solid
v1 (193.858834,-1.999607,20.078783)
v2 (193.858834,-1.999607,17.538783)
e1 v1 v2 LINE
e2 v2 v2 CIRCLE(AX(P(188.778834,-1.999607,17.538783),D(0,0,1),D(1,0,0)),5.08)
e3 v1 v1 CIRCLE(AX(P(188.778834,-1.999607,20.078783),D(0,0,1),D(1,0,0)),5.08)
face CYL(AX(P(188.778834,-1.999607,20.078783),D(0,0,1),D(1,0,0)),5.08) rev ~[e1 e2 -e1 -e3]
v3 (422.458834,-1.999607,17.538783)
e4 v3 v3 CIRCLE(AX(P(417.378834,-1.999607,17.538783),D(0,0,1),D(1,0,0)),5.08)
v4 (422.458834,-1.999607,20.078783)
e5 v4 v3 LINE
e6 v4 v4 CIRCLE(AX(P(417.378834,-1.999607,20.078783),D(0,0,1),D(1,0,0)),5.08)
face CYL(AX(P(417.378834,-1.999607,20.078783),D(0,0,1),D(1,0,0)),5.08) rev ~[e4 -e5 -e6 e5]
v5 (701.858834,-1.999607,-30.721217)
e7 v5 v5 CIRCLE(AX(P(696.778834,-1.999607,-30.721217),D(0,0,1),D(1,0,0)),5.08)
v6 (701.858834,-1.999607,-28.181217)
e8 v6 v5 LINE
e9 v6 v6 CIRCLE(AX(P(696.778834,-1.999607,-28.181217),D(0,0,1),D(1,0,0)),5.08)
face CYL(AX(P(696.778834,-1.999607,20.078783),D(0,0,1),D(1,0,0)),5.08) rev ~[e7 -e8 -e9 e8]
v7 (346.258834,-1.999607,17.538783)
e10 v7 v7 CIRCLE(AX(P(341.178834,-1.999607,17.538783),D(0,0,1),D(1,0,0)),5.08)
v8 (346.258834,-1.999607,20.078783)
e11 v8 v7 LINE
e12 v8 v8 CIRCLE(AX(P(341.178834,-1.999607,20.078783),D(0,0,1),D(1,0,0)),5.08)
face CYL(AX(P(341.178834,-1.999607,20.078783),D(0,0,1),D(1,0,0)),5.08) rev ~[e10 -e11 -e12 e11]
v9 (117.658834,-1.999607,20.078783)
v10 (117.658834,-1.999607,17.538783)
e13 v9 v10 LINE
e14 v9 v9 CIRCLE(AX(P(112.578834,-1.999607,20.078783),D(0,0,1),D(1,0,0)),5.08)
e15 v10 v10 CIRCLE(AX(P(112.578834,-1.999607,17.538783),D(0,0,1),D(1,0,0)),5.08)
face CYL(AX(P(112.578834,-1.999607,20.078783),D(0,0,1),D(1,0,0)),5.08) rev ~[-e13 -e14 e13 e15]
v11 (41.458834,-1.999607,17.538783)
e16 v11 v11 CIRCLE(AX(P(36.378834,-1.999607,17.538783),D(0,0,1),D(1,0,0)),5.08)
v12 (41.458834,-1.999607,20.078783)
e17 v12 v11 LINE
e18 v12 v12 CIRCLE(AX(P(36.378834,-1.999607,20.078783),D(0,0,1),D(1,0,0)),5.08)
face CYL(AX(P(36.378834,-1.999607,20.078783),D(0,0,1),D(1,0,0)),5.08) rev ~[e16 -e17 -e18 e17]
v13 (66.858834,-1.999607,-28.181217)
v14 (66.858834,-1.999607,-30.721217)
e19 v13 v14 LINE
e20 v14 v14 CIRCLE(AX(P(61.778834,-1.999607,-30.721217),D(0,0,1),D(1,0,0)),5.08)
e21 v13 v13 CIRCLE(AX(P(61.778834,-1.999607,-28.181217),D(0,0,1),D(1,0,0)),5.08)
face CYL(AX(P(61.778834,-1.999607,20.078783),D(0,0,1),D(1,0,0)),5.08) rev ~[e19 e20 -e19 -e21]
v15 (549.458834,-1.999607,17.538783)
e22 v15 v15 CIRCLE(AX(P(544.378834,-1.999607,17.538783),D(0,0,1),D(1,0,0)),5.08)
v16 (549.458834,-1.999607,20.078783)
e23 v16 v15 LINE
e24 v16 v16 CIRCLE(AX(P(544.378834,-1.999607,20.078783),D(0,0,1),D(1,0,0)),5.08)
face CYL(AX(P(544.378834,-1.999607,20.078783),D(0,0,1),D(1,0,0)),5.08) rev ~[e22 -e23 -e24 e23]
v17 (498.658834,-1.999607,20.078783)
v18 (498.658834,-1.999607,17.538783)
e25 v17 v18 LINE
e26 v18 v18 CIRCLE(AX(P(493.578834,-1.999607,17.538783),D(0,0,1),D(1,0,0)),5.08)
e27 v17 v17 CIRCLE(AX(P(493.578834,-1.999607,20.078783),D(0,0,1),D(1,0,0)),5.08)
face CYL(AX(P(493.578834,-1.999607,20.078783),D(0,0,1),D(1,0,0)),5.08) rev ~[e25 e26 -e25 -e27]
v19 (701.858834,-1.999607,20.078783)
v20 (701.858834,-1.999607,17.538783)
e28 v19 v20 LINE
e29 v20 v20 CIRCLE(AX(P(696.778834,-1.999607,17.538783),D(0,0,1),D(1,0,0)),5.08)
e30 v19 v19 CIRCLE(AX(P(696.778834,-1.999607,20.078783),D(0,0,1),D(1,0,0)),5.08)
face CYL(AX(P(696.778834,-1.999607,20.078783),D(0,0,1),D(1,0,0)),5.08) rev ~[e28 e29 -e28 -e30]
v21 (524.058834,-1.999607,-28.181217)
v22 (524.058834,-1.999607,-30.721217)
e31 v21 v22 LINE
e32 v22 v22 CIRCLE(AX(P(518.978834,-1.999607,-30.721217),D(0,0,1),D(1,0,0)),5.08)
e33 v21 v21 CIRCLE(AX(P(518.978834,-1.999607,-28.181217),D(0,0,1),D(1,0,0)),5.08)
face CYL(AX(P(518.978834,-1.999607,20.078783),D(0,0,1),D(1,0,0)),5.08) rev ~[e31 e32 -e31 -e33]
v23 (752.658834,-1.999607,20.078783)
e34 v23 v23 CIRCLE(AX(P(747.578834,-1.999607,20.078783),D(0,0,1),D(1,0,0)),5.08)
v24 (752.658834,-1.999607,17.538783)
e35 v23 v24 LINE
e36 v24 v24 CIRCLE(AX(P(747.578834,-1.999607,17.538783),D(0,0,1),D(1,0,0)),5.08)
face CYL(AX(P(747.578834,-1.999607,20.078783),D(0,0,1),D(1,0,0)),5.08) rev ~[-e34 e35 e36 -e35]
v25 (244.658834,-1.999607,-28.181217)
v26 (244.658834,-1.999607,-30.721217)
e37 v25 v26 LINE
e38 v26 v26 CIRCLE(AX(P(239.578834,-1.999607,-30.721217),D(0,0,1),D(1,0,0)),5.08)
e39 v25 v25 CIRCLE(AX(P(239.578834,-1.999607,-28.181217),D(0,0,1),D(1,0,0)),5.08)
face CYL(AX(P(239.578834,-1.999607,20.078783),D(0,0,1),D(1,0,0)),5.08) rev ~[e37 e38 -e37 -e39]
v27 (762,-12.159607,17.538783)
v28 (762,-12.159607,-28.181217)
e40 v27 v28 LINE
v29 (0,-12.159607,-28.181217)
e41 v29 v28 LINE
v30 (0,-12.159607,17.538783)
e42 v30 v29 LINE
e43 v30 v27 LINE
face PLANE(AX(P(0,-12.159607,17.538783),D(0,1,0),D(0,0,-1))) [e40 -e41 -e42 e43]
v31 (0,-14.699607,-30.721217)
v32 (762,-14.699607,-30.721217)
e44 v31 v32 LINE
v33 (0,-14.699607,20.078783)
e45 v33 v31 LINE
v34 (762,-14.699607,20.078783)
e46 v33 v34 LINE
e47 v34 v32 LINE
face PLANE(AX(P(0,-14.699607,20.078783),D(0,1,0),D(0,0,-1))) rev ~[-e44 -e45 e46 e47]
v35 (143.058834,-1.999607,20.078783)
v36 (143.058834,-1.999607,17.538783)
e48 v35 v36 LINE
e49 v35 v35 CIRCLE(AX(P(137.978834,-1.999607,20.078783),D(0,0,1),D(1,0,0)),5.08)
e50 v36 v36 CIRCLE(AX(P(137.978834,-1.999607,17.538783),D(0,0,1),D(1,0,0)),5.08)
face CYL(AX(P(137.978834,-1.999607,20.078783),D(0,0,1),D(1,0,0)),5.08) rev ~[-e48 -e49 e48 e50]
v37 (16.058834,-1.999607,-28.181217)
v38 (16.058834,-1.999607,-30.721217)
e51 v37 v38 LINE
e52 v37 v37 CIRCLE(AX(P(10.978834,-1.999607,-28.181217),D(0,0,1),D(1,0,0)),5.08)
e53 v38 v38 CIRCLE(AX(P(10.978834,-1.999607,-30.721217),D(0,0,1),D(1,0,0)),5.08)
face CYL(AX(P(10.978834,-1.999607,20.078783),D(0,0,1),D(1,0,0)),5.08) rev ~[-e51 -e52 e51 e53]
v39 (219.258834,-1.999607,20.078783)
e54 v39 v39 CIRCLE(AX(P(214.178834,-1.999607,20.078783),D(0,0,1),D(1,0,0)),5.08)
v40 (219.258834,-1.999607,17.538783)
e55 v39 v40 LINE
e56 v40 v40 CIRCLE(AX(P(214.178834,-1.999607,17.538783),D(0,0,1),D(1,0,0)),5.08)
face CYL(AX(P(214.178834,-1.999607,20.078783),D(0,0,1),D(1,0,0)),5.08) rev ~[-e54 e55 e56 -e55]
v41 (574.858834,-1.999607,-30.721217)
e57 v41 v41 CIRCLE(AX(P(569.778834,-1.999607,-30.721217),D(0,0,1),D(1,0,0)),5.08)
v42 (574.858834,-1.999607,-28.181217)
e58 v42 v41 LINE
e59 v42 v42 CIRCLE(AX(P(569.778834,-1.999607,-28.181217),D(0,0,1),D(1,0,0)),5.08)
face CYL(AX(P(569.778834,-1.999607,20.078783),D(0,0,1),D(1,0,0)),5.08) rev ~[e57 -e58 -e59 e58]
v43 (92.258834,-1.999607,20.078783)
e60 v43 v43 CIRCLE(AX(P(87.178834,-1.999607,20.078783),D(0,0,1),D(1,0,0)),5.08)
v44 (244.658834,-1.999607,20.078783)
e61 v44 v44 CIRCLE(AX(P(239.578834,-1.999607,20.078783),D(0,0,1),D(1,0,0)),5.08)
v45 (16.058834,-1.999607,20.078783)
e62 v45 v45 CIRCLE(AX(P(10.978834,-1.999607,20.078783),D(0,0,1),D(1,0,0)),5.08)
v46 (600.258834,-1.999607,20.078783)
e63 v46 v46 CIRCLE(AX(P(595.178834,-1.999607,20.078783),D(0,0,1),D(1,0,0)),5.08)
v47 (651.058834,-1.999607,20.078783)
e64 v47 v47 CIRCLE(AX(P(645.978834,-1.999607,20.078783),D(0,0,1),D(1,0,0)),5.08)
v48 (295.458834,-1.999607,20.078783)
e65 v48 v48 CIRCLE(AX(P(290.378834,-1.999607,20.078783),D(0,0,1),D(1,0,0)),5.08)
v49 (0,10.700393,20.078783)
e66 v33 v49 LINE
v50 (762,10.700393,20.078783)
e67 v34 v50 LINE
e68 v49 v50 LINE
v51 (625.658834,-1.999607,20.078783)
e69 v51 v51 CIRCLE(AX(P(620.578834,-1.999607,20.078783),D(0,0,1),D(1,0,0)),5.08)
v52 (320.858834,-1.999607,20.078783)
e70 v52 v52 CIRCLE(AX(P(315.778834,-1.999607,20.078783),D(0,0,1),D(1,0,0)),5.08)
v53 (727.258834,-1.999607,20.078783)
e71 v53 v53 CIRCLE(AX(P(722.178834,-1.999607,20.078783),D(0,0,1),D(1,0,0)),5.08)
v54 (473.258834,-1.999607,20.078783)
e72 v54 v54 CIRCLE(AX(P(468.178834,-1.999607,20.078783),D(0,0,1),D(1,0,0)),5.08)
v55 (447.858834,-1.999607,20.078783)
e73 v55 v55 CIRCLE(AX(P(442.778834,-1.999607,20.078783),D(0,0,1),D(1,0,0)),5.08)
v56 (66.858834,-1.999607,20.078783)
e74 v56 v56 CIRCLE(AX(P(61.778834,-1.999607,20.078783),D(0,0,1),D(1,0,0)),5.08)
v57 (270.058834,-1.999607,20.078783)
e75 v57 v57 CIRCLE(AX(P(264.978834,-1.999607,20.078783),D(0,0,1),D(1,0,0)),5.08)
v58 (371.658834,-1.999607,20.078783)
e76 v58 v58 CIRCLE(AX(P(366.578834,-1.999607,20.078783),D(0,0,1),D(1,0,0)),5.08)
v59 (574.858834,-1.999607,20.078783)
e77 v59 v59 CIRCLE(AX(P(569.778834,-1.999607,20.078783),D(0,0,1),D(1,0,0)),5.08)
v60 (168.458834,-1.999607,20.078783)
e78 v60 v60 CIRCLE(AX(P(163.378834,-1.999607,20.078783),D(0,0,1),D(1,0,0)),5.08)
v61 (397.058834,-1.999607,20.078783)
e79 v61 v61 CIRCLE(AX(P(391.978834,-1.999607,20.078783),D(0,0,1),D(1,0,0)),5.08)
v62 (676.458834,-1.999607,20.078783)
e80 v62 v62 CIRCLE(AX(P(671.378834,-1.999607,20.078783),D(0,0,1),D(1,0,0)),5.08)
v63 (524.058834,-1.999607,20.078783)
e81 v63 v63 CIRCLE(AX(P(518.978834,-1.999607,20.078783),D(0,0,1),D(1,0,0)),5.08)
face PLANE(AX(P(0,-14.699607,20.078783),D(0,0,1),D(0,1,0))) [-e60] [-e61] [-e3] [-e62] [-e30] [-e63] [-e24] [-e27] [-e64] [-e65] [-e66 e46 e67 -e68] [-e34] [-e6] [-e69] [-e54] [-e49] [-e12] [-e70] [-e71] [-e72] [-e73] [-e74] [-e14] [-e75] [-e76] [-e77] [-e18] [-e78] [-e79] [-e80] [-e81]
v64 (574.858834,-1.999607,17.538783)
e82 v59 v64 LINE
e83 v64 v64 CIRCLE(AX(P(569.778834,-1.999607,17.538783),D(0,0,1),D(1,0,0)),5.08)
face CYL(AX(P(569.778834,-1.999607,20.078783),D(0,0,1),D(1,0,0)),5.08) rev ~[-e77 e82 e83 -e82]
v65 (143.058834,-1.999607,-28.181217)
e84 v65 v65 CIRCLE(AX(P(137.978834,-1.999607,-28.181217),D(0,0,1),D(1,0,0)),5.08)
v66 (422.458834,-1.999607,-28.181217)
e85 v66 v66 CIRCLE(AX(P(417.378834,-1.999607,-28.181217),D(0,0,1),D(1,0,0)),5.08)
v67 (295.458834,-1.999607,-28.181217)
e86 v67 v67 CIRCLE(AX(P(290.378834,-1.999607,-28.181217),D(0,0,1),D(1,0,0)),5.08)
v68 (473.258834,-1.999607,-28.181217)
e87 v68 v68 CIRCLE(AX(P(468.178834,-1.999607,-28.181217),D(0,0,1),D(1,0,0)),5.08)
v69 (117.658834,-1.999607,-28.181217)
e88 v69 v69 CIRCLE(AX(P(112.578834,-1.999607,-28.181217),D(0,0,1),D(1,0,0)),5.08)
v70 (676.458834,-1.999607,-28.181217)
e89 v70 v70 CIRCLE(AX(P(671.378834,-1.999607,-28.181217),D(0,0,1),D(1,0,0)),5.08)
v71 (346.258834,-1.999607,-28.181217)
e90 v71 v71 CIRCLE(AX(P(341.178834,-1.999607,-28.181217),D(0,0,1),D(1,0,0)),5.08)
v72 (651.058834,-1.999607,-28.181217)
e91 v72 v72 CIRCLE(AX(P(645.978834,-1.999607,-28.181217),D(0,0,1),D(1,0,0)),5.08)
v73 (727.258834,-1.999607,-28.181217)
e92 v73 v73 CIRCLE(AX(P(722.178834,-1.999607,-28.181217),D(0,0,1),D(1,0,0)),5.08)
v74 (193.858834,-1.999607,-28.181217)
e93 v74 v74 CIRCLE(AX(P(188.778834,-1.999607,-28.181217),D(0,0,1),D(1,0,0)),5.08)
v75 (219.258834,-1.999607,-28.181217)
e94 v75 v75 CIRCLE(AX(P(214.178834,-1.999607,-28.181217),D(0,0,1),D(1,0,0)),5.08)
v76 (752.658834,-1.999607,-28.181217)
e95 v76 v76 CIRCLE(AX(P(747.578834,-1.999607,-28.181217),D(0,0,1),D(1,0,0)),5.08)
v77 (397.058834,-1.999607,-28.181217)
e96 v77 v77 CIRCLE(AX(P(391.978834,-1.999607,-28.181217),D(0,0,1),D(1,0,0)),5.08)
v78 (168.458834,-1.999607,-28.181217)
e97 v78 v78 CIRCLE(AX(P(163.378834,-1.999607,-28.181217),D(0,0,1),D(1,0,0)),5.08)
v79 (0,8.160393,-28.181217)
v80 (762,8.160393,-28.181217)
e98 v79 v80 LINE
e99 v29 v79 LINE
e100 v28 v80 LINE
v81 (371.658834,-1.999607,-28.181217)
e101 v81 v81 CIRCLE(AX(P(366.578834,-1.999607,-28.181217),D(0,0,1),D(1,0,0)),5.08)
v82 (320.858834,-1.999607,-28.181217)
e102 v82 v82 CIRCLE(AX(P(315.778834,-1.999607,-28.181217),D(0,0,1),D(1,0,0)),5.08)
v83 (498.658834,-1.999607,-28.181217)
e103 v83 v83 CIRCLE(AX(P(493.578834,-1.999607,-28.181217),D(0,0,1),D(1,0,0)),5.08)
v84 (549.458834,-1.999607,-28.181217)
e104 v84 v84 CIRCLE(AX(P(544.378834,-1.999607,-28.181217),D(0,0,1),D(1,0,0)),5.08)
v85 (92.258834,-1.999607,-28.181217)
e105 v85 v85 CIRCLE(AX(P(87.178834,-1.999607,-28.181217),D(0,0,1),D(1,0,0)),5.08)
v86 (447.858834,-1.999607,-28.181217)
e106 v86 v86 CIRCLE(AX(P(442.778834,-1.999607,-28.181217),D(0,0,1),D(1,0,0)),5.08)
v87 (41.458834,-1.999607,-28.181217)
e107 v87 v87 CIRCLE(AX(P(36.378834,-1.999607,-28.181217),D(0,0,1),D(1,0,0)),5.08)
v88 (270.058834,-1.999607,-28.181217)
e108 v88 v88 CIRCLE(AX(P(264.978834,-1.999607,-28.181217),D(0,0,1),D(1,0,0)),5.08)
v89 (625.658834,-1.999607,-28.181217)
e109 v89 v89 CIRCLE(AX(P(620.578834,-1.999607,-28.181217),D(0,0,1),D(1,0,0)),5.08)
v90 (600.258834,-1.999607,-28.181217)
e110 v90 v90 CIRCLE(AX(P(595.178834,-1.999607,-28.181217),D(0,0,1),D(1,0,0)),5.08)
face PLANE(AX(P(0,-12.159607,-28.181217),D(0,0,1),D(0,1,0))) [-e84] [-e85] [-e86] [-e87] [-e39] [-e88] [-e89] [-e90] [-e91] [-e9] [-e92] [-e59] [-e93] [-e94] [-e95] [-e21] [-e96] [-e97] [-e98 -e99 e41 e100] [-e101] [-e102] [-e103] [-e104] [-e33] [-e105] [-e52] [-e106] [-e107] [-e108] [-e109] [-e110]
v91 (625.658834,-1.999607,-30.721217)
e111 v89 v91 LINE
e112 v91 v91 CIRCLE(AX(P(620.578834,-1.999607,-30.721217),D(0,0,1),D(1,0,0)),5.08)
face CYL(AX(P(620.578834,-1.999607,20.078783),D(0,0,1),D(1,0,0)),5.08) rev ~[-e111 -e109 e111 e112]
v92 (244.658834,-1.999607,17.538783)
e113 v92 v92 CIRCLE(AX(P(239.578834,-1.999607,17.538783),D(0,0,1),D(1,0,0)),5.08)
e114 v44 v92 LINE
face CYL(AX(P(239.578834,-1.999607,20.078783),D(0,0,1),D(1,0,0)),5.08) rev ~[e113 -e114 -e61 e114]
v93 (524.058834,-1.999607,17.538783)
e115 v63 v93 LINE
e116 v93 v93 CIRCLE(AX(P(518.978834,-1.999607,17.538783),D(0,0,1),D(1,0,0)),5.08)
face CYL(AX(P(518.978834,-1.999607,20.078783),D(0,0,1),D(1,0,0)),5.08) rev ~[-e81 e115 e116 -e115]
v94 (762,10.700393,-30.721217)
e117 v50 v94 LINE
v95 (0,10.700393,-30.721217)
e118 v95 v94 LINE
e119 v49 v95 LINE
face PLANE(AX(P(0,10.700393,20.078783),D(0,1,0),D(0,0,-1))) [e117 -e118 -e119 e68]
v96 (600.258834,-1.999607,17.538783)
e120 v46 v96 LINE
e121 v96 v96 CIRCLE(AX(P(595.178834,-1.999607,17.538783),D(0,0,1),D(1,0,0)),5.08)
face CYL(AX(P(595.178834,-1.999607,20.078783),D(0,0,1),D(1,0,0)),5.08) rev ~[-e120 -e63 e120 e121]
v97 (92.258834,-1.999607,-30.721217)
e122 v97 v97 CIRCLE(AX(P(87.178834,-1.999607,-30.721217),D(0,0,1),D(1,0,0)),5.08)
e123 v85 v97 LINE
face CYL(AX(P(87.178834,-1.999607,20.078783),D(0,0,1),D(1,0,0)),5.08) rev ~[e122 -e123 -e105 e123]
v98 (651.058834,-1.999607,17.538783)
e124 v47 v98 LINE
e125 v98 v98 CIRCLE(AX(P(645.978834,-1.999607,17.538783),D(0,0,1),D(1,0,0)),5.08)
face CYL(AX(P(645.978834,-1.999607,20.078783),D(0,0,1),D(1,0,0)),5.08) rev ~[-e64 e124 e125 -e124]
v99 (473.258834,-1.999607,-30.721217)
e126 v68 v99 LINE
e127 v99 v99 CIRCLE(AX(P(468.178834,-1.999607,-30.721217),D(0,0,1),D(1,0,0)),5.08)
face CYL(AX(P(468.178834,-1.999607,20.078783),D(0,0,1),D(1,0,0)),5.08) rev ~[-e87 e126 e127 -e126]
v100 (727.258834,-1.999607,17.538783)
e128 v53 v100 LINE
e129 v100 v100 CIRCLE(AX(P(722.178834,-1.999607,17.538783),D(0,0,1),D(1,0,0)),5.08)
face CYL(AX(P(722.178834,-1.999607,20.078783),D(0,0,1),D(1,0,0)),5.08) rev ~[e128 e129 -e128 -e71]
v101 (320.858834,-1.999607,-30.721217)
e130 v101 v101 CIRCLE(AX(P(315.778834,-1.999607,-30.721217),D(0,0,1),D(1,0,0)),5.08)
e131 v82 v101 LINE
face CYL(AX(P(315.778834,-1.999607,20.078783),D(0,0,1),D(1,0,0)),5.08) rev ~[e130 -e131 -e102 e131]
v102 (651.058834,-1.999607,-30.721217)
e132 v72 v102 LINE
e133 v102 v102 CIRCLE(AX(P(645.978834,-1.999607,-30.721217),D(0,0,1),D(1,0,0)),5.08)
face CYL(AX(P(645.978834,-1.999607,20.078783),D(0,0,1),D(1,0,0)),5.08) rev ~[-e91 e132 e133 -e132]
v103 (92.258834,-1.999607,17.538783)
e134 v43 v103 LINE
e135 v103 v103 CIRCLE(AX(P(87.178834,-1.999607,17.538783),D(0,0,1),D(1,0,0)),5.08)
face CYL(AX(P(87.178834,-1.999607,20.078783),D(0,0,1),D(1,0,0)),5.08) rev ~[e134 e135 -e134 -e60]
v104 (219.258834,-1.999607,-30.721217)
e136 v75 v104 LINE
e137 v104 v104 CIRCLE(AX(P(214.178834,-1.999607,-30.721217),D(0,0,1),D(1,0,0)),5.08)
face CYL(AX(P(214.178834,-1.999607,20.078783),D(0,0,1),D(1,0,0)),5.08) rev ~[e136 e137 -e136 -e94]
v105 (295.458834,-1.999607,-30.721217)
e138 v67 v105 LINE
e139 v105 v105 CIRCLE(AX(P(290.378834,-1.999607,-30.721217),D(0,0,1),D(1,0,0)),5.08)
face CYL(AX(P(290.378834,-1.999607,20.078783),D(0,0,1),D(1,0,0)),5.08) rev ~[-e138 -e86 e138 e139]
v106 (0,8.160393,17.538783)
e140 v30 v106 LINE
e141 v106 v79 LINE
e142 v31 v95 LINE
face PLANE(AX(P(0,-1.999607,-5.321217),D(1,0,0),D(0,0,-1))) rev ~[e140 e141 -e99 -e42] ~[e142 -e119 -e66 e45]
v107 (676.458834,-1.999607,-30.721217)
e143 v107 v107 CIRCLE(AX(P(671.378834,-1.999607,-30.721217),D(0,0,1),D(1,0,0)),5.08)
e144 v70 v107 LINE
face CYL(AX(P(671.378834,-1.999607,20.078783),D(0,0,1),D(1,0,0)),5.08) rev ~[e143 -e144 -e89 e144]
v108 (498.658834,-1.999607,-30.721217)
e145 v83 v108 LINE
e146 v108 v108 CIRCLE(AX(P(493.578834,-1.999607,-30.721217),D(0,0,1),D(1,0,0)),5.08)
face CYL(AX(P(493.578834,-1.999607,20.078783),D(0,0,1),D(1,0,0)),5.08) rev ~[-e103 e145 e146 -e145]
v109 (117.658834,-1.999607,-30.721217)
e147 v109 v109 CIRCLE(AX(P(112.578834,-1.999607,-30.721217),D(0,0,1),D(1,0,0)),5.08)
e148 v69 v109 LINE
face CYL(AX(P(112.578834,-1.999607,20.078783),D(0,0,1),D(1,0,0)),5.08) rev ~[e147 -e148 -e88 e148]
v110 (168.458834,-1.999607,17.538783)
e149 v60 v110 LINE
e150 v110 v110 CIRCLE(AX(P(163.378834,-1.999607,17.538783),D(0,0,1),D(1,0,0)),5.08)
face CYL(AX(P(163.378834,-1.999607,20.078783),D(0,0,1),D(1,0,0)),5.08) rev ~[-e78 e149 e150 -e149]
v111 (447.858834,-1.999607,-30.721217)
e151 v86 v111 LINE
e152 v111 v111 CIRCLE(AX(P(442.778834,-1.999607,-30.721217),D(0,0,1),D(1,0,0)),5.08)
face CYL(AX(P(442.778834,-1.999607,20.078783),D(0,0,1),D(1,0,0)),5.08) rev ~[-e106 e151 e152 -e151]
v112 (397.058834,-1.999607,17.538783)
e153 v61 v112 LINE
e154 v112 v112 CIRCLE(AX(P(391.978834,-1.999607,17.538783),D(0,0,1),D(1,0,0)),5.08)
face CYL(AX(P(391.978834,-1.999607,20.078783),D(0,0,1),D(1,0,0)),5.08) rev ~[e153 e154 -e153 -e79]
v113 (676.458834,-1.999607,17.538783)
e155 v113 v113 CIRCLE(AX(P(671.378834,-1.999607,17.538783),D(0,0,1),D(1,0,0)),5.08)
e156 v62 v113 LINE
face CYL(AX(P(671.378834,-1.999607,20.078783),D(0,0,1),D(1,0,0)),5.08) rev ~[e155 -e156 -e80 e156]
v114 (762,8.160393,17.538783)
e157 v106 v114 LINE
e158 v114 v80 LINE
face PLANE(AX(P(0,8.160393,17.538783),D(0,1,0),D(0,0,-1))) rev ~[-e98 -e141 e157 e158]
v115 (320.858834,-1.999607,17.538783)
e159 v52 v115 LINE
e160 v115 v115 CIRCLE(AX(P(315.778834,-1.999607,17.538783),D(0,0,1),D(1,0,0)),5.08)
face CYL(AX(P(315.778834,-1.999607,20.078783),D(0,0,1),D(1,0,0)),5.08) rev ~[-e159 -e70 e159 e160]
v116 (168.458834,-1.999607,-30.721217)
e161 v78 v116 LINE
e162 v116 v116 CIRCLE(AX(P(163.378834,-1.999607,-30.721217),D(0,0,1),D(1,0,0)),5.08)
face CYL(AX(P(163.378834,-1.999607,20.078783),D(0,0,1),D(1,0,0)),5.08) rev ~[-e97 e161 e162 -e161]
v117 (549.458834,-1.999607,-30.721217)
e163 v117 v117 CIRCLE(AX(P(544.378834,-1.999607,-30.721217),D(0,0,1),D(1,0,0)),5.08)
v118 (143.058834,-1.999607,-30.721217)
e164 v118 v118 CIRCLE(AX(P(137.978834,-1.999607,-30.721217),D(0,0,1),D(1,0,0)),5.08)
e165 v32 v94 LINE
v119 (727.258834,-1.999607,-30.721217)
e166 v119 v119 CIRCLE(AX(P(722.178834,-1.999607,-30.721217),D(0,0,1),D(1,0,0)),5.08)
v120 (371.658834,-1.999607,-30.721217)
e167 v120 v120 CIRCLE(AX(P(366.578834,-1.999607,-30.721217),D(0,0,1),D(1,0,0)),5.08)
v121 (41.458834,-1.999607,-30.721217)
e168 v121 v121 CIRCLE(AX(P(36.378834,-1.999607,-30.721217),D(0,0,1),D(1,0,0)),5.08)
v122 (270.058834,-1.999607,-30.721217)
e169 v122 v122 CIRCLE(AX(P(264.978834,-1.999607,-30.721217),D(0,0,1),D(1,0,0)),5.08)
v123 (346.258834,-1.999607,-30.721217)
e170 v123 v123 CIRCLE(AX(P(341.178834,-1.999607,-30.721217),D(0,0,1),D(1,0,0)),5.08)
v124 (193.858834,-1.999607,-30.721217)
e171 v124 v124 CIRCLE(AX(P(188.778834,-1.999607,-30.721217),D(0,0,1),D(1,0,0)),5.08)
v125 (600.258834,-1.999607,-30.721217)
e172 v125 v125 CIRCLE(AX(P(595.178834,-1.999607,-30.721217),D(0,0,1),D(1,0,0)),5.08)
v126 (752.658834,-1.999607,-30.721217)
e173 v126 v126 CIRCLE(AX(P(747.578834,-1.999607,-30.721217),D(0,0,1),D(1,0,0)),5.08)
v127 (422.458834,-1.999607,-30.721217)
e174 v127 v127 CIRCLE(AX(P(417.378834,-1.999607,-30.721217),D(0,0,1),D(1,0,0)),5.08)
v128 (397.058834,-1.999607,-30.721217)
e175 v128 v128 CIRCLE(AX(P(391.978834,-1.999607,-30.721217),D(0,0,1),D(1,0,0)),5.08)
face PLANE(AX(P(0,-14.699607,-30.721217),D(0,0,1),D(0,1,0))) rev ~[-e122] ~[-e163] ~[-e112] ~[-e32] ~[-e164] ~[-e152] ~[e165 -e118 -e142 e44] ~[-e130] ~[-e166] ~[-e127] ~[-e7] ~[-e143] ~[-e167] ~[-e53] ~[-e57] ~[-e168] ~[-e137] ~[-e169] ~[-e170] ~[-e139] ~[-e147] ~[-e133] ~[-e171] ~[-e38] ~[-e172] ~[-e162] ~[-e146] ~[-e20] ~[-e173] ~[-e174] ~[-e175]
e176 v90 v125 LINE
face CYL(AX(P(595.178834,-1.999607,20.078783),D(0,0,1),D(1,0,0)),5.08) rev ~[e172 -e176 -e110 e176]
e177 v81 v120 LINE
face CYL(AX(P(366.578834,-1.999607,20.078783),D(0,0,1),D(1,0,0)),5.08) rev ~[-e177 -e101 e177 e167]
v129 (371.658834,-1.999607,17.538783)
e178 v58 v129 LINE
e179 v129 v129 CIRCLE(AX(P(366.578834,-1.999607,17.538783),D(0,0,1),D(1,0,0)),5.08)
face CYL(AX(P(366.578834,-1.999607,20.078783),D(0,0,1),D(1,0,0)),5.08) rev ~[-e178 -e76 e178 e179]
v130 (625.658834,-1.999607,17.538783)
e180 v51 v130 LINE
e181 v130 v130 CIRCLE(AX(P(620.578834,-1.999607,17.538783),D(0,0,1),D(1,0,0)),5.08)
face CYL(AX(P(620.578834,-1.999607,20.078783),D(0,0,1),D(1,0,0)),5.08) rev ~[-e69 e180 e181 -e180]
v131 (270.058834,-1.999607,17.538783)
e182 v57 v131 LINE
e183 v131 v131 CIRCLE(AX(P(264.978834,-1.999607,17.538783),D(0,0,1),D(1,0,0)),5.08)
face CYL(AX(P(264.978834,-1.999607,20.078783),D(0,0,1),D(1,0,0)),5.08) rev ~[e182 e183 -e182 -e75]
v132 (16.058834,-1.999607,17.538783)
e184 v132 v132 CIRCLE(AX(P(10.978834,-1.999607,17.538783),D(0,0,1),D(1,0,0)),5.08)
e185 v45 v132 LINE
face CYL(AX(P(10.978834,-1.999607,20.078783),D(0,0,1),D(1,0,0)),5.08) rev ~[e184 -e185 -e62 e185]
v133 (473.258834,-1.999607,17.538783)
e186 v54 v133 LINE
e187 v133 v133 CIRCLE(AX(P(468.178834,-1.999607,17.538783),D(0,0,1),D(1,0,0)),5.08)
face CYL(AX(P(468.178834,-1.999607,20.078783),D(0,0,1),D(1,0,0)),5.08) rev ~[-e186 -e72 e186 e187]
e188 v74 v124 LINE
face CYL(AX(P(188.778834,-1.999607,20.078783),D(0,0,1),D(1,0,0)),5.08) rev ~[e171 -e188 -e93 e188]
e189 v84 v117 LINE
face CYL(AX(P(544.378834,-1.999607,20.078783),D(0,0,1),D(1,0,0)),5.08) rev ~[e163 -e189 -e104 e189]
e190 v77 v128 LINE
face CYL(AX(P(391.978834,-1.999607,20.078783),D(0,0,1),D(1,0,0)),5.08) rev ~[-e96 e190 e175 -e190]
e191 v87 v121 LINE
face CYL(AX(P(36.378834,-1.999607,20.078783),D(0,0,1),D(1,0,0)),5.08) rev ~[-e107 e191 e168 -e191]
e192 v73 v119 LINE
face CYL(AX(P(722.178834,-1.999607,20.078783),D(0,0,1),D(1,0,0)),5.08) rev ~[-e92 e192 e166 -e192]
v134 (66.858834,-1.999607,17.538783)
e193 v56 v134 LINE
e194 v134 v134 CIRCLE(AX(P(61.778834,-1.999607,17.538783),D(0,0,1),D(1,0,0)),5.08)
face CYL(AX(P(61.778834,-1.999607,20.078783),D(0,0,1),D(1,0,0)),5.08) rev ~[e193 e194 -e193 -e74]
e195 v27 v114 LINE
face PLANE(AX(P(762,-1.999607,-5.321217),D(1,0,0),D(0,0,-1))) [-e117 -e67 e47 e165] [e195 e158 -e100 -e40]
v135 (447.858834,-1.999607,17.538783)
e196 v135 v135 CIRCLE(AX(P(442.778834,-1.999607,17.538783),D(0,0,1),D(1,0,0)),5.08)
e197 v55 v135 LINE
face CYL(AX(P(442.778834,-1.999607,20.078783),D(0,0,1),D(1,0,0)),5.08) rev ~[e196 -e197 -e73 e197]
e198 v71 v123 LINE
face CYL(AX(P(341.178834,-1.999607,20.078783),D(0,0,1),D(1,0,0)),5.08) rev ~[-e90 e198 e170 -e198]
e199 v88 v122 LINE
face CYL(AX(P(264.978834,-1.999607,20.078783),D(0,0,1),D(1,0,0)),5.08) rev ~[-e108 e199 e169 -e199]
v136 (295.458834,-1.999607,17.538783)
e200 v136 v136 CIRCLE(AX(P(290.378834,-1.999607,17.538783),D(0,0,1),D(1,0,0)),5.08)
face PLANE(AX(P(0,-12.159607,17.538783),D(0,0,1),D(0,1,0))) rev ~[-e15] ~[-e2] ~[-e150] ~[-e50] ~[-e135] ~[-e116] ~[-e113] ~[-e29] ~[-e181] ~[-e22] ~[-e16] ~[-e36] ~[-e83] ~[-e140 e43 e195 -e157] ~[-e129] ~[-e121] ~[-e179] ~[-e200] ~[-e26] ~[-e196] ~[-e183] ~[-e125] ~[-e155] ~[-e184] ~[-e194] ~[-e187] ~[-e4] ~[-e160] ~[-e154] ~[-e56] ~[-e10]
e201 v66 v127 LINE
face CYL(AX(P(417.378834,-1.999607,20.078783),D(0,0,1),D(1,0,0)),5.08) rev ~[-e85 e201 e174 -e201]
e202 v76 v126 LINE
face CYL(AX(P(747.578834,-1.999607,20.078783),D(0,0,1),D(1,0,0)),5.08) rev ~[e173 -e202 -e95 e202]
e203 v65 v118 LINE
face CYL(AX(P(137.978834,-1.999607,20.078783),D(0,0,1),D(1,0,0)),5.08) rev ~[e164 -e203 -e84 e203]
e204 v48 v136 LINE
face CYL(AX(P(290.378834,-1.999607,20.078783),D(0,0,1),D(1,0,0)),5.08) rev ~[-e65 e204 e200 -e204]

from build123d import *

# Parameters (mm, degrees)
SKETCH3_W           = 50.8
SKETCH3_H           = 25.4
SKETCH3_W_2         = 45.72
SKETCH3_H_2         = 20.32
BOSS_EXTRUDE1_DEPTH = 762
SKETCH5_R           = 5.08
CUT_EXTRUDE2_DEPTH  = 127
SKETCH5_8_R         = 5.08
CUT_EXTRUDE5_DEPTH  = 127
SKETCH5_9_R         = 5.08
CUT_EXTRUDE6_DEPTH  = 127


with BuildPart() as part:
    # Sketch3 → Boss-Extrude1 (new body)
    with BuildSketch(Plane(origin=(0, 0, 0), x_dir=(0, 0, -1), z_dir=(1, 0, 0))):
        with Locations((5.321216632, -1.999606833)):
            Rectangle(SKETCH3_W, SKETCH3_H)
        with Locations((5.321216632, -1.999606833)):
            Rectangle(SKETCH3_W_2, SKETCH3_H_2, mode=Mode.SUBTRACT)
    extrude(amount=BOSS_EXTRUDE1_DEPTH)

    # Sketch5 → Cut-Extrude2 (cut)
    with BuildSketch(Plane.XY.offset(20.078783368)):
        with Locations((10.978833808, -1.999606833)):
            Circle(SKETCH5_R)
        with Locations((36.378833808, -1.999606833)):
            Circle(SKETCH5_R)
        with Locations((61.778833808, -1.999606833)):
            Circle(SKETCH5_R)
        with Locations((87.178833808, -1.999606833)):
            Circle(SKETCH5_R)
        with Locations((112.578833808, -1.999606833)):
            Circle(SKETCH5_R)
        with Locations((137.978833808, -1.999606833)):
            Circle(SKETCH5_R)
        with Locations((163.378833808, -1.999606833)):
            Circle(SKETCH5_R)
        with Locations((188.778833808, -1.999606833)):
            Circle(SKETCH5_R)
        with Locations((214.178833808, -1.999606833)):
            Circle(SKETCH5_R)
        with Locations((239.578833808, -1.999606833)):
            Circle(SKETCH5_R)
        with Locations((264.978833808, -1.999606833)):
            Circle(SKETCH5_R)
        with Locations((290.378833808, -1.999606833)):
            Circle(SKETCH5_R)
        with Locations((315.778833808, -1.999606833)):
            Circle(SKETCH5_R)
        with Locations((341.178833808, -1.999606833)):
            Circle(SKETCH5_R)
        with Locations((366.578833808, -1.999606833)):
            Circle(SKETCH5_R)
        with Locations((391.978833808, -1.999606833)):
            Circle(SKETCH5_R)
        with Locations((417.378833808, -1.999606833)):
            Circle(SKETCH5_R)
        with Locations((442.778833808, -1.999606833)):
            Circle(SKETCH5_R)
        with Locations((468.178833808, -1.999606833)):
            Circle(SKETCH5_R)
        with Locations((493.578833808, -1.999606833)):
            Circle(SKETCH5_R)
        with Locations((518.978833808, -1.999606833)):
            Circle(SKETCH5_R)
        with Locations((544.378833808, -1.999606833)):
            Circle(SKETCH5_R)
        with Locations((569.778833808, -1.999606833)):
            Circle(SKETCH5_R)
        with Locations((595.178833808, -1.999606833)):
            Circle(SKETCH5_R)
        with Locations((620.578833808, -1.999606833)):
            Circle(SKETCH5_R)
        with Locations((645.978833808, -1.999606833)):
            Circle(SKETCH5_R)
        with Locations((671.378833808, -1.999606833)):
            Circle(SKETCH5_R)
        with Locations((696.778833808, -1.999606833)):
            Circle(SKETCH5_R)
    extrude(amount=-CUT_EXTRUDE2_DEPTH, mode=Mode.SUBTRACT)

    # Sketch5<8> → Cut-Extrude5 (cut)
    with BuildSketch(Plane.XY.offset(20.078783368)):
        with Locations((722.178833808, -1.999606833)):
            Circle(SKETCH5_8_R)
    extrude(amount=-CUT_EXTRUDE5_DEPTH, mode=Mode.SUBTRACT)

    # Sketch5<9> → Cut-Extrude6 (cut)
    with BuildSketch(Plane.XY.offset(20.078783368)):
        with Locations((747.578833808, -1.999606833)):
            Circle(SKETCH5_9_R)
    extrude(amount=-CUT_EXTRUDE6_DEPTH, mode=Mode.SUBTRACT)


solid = part.part
